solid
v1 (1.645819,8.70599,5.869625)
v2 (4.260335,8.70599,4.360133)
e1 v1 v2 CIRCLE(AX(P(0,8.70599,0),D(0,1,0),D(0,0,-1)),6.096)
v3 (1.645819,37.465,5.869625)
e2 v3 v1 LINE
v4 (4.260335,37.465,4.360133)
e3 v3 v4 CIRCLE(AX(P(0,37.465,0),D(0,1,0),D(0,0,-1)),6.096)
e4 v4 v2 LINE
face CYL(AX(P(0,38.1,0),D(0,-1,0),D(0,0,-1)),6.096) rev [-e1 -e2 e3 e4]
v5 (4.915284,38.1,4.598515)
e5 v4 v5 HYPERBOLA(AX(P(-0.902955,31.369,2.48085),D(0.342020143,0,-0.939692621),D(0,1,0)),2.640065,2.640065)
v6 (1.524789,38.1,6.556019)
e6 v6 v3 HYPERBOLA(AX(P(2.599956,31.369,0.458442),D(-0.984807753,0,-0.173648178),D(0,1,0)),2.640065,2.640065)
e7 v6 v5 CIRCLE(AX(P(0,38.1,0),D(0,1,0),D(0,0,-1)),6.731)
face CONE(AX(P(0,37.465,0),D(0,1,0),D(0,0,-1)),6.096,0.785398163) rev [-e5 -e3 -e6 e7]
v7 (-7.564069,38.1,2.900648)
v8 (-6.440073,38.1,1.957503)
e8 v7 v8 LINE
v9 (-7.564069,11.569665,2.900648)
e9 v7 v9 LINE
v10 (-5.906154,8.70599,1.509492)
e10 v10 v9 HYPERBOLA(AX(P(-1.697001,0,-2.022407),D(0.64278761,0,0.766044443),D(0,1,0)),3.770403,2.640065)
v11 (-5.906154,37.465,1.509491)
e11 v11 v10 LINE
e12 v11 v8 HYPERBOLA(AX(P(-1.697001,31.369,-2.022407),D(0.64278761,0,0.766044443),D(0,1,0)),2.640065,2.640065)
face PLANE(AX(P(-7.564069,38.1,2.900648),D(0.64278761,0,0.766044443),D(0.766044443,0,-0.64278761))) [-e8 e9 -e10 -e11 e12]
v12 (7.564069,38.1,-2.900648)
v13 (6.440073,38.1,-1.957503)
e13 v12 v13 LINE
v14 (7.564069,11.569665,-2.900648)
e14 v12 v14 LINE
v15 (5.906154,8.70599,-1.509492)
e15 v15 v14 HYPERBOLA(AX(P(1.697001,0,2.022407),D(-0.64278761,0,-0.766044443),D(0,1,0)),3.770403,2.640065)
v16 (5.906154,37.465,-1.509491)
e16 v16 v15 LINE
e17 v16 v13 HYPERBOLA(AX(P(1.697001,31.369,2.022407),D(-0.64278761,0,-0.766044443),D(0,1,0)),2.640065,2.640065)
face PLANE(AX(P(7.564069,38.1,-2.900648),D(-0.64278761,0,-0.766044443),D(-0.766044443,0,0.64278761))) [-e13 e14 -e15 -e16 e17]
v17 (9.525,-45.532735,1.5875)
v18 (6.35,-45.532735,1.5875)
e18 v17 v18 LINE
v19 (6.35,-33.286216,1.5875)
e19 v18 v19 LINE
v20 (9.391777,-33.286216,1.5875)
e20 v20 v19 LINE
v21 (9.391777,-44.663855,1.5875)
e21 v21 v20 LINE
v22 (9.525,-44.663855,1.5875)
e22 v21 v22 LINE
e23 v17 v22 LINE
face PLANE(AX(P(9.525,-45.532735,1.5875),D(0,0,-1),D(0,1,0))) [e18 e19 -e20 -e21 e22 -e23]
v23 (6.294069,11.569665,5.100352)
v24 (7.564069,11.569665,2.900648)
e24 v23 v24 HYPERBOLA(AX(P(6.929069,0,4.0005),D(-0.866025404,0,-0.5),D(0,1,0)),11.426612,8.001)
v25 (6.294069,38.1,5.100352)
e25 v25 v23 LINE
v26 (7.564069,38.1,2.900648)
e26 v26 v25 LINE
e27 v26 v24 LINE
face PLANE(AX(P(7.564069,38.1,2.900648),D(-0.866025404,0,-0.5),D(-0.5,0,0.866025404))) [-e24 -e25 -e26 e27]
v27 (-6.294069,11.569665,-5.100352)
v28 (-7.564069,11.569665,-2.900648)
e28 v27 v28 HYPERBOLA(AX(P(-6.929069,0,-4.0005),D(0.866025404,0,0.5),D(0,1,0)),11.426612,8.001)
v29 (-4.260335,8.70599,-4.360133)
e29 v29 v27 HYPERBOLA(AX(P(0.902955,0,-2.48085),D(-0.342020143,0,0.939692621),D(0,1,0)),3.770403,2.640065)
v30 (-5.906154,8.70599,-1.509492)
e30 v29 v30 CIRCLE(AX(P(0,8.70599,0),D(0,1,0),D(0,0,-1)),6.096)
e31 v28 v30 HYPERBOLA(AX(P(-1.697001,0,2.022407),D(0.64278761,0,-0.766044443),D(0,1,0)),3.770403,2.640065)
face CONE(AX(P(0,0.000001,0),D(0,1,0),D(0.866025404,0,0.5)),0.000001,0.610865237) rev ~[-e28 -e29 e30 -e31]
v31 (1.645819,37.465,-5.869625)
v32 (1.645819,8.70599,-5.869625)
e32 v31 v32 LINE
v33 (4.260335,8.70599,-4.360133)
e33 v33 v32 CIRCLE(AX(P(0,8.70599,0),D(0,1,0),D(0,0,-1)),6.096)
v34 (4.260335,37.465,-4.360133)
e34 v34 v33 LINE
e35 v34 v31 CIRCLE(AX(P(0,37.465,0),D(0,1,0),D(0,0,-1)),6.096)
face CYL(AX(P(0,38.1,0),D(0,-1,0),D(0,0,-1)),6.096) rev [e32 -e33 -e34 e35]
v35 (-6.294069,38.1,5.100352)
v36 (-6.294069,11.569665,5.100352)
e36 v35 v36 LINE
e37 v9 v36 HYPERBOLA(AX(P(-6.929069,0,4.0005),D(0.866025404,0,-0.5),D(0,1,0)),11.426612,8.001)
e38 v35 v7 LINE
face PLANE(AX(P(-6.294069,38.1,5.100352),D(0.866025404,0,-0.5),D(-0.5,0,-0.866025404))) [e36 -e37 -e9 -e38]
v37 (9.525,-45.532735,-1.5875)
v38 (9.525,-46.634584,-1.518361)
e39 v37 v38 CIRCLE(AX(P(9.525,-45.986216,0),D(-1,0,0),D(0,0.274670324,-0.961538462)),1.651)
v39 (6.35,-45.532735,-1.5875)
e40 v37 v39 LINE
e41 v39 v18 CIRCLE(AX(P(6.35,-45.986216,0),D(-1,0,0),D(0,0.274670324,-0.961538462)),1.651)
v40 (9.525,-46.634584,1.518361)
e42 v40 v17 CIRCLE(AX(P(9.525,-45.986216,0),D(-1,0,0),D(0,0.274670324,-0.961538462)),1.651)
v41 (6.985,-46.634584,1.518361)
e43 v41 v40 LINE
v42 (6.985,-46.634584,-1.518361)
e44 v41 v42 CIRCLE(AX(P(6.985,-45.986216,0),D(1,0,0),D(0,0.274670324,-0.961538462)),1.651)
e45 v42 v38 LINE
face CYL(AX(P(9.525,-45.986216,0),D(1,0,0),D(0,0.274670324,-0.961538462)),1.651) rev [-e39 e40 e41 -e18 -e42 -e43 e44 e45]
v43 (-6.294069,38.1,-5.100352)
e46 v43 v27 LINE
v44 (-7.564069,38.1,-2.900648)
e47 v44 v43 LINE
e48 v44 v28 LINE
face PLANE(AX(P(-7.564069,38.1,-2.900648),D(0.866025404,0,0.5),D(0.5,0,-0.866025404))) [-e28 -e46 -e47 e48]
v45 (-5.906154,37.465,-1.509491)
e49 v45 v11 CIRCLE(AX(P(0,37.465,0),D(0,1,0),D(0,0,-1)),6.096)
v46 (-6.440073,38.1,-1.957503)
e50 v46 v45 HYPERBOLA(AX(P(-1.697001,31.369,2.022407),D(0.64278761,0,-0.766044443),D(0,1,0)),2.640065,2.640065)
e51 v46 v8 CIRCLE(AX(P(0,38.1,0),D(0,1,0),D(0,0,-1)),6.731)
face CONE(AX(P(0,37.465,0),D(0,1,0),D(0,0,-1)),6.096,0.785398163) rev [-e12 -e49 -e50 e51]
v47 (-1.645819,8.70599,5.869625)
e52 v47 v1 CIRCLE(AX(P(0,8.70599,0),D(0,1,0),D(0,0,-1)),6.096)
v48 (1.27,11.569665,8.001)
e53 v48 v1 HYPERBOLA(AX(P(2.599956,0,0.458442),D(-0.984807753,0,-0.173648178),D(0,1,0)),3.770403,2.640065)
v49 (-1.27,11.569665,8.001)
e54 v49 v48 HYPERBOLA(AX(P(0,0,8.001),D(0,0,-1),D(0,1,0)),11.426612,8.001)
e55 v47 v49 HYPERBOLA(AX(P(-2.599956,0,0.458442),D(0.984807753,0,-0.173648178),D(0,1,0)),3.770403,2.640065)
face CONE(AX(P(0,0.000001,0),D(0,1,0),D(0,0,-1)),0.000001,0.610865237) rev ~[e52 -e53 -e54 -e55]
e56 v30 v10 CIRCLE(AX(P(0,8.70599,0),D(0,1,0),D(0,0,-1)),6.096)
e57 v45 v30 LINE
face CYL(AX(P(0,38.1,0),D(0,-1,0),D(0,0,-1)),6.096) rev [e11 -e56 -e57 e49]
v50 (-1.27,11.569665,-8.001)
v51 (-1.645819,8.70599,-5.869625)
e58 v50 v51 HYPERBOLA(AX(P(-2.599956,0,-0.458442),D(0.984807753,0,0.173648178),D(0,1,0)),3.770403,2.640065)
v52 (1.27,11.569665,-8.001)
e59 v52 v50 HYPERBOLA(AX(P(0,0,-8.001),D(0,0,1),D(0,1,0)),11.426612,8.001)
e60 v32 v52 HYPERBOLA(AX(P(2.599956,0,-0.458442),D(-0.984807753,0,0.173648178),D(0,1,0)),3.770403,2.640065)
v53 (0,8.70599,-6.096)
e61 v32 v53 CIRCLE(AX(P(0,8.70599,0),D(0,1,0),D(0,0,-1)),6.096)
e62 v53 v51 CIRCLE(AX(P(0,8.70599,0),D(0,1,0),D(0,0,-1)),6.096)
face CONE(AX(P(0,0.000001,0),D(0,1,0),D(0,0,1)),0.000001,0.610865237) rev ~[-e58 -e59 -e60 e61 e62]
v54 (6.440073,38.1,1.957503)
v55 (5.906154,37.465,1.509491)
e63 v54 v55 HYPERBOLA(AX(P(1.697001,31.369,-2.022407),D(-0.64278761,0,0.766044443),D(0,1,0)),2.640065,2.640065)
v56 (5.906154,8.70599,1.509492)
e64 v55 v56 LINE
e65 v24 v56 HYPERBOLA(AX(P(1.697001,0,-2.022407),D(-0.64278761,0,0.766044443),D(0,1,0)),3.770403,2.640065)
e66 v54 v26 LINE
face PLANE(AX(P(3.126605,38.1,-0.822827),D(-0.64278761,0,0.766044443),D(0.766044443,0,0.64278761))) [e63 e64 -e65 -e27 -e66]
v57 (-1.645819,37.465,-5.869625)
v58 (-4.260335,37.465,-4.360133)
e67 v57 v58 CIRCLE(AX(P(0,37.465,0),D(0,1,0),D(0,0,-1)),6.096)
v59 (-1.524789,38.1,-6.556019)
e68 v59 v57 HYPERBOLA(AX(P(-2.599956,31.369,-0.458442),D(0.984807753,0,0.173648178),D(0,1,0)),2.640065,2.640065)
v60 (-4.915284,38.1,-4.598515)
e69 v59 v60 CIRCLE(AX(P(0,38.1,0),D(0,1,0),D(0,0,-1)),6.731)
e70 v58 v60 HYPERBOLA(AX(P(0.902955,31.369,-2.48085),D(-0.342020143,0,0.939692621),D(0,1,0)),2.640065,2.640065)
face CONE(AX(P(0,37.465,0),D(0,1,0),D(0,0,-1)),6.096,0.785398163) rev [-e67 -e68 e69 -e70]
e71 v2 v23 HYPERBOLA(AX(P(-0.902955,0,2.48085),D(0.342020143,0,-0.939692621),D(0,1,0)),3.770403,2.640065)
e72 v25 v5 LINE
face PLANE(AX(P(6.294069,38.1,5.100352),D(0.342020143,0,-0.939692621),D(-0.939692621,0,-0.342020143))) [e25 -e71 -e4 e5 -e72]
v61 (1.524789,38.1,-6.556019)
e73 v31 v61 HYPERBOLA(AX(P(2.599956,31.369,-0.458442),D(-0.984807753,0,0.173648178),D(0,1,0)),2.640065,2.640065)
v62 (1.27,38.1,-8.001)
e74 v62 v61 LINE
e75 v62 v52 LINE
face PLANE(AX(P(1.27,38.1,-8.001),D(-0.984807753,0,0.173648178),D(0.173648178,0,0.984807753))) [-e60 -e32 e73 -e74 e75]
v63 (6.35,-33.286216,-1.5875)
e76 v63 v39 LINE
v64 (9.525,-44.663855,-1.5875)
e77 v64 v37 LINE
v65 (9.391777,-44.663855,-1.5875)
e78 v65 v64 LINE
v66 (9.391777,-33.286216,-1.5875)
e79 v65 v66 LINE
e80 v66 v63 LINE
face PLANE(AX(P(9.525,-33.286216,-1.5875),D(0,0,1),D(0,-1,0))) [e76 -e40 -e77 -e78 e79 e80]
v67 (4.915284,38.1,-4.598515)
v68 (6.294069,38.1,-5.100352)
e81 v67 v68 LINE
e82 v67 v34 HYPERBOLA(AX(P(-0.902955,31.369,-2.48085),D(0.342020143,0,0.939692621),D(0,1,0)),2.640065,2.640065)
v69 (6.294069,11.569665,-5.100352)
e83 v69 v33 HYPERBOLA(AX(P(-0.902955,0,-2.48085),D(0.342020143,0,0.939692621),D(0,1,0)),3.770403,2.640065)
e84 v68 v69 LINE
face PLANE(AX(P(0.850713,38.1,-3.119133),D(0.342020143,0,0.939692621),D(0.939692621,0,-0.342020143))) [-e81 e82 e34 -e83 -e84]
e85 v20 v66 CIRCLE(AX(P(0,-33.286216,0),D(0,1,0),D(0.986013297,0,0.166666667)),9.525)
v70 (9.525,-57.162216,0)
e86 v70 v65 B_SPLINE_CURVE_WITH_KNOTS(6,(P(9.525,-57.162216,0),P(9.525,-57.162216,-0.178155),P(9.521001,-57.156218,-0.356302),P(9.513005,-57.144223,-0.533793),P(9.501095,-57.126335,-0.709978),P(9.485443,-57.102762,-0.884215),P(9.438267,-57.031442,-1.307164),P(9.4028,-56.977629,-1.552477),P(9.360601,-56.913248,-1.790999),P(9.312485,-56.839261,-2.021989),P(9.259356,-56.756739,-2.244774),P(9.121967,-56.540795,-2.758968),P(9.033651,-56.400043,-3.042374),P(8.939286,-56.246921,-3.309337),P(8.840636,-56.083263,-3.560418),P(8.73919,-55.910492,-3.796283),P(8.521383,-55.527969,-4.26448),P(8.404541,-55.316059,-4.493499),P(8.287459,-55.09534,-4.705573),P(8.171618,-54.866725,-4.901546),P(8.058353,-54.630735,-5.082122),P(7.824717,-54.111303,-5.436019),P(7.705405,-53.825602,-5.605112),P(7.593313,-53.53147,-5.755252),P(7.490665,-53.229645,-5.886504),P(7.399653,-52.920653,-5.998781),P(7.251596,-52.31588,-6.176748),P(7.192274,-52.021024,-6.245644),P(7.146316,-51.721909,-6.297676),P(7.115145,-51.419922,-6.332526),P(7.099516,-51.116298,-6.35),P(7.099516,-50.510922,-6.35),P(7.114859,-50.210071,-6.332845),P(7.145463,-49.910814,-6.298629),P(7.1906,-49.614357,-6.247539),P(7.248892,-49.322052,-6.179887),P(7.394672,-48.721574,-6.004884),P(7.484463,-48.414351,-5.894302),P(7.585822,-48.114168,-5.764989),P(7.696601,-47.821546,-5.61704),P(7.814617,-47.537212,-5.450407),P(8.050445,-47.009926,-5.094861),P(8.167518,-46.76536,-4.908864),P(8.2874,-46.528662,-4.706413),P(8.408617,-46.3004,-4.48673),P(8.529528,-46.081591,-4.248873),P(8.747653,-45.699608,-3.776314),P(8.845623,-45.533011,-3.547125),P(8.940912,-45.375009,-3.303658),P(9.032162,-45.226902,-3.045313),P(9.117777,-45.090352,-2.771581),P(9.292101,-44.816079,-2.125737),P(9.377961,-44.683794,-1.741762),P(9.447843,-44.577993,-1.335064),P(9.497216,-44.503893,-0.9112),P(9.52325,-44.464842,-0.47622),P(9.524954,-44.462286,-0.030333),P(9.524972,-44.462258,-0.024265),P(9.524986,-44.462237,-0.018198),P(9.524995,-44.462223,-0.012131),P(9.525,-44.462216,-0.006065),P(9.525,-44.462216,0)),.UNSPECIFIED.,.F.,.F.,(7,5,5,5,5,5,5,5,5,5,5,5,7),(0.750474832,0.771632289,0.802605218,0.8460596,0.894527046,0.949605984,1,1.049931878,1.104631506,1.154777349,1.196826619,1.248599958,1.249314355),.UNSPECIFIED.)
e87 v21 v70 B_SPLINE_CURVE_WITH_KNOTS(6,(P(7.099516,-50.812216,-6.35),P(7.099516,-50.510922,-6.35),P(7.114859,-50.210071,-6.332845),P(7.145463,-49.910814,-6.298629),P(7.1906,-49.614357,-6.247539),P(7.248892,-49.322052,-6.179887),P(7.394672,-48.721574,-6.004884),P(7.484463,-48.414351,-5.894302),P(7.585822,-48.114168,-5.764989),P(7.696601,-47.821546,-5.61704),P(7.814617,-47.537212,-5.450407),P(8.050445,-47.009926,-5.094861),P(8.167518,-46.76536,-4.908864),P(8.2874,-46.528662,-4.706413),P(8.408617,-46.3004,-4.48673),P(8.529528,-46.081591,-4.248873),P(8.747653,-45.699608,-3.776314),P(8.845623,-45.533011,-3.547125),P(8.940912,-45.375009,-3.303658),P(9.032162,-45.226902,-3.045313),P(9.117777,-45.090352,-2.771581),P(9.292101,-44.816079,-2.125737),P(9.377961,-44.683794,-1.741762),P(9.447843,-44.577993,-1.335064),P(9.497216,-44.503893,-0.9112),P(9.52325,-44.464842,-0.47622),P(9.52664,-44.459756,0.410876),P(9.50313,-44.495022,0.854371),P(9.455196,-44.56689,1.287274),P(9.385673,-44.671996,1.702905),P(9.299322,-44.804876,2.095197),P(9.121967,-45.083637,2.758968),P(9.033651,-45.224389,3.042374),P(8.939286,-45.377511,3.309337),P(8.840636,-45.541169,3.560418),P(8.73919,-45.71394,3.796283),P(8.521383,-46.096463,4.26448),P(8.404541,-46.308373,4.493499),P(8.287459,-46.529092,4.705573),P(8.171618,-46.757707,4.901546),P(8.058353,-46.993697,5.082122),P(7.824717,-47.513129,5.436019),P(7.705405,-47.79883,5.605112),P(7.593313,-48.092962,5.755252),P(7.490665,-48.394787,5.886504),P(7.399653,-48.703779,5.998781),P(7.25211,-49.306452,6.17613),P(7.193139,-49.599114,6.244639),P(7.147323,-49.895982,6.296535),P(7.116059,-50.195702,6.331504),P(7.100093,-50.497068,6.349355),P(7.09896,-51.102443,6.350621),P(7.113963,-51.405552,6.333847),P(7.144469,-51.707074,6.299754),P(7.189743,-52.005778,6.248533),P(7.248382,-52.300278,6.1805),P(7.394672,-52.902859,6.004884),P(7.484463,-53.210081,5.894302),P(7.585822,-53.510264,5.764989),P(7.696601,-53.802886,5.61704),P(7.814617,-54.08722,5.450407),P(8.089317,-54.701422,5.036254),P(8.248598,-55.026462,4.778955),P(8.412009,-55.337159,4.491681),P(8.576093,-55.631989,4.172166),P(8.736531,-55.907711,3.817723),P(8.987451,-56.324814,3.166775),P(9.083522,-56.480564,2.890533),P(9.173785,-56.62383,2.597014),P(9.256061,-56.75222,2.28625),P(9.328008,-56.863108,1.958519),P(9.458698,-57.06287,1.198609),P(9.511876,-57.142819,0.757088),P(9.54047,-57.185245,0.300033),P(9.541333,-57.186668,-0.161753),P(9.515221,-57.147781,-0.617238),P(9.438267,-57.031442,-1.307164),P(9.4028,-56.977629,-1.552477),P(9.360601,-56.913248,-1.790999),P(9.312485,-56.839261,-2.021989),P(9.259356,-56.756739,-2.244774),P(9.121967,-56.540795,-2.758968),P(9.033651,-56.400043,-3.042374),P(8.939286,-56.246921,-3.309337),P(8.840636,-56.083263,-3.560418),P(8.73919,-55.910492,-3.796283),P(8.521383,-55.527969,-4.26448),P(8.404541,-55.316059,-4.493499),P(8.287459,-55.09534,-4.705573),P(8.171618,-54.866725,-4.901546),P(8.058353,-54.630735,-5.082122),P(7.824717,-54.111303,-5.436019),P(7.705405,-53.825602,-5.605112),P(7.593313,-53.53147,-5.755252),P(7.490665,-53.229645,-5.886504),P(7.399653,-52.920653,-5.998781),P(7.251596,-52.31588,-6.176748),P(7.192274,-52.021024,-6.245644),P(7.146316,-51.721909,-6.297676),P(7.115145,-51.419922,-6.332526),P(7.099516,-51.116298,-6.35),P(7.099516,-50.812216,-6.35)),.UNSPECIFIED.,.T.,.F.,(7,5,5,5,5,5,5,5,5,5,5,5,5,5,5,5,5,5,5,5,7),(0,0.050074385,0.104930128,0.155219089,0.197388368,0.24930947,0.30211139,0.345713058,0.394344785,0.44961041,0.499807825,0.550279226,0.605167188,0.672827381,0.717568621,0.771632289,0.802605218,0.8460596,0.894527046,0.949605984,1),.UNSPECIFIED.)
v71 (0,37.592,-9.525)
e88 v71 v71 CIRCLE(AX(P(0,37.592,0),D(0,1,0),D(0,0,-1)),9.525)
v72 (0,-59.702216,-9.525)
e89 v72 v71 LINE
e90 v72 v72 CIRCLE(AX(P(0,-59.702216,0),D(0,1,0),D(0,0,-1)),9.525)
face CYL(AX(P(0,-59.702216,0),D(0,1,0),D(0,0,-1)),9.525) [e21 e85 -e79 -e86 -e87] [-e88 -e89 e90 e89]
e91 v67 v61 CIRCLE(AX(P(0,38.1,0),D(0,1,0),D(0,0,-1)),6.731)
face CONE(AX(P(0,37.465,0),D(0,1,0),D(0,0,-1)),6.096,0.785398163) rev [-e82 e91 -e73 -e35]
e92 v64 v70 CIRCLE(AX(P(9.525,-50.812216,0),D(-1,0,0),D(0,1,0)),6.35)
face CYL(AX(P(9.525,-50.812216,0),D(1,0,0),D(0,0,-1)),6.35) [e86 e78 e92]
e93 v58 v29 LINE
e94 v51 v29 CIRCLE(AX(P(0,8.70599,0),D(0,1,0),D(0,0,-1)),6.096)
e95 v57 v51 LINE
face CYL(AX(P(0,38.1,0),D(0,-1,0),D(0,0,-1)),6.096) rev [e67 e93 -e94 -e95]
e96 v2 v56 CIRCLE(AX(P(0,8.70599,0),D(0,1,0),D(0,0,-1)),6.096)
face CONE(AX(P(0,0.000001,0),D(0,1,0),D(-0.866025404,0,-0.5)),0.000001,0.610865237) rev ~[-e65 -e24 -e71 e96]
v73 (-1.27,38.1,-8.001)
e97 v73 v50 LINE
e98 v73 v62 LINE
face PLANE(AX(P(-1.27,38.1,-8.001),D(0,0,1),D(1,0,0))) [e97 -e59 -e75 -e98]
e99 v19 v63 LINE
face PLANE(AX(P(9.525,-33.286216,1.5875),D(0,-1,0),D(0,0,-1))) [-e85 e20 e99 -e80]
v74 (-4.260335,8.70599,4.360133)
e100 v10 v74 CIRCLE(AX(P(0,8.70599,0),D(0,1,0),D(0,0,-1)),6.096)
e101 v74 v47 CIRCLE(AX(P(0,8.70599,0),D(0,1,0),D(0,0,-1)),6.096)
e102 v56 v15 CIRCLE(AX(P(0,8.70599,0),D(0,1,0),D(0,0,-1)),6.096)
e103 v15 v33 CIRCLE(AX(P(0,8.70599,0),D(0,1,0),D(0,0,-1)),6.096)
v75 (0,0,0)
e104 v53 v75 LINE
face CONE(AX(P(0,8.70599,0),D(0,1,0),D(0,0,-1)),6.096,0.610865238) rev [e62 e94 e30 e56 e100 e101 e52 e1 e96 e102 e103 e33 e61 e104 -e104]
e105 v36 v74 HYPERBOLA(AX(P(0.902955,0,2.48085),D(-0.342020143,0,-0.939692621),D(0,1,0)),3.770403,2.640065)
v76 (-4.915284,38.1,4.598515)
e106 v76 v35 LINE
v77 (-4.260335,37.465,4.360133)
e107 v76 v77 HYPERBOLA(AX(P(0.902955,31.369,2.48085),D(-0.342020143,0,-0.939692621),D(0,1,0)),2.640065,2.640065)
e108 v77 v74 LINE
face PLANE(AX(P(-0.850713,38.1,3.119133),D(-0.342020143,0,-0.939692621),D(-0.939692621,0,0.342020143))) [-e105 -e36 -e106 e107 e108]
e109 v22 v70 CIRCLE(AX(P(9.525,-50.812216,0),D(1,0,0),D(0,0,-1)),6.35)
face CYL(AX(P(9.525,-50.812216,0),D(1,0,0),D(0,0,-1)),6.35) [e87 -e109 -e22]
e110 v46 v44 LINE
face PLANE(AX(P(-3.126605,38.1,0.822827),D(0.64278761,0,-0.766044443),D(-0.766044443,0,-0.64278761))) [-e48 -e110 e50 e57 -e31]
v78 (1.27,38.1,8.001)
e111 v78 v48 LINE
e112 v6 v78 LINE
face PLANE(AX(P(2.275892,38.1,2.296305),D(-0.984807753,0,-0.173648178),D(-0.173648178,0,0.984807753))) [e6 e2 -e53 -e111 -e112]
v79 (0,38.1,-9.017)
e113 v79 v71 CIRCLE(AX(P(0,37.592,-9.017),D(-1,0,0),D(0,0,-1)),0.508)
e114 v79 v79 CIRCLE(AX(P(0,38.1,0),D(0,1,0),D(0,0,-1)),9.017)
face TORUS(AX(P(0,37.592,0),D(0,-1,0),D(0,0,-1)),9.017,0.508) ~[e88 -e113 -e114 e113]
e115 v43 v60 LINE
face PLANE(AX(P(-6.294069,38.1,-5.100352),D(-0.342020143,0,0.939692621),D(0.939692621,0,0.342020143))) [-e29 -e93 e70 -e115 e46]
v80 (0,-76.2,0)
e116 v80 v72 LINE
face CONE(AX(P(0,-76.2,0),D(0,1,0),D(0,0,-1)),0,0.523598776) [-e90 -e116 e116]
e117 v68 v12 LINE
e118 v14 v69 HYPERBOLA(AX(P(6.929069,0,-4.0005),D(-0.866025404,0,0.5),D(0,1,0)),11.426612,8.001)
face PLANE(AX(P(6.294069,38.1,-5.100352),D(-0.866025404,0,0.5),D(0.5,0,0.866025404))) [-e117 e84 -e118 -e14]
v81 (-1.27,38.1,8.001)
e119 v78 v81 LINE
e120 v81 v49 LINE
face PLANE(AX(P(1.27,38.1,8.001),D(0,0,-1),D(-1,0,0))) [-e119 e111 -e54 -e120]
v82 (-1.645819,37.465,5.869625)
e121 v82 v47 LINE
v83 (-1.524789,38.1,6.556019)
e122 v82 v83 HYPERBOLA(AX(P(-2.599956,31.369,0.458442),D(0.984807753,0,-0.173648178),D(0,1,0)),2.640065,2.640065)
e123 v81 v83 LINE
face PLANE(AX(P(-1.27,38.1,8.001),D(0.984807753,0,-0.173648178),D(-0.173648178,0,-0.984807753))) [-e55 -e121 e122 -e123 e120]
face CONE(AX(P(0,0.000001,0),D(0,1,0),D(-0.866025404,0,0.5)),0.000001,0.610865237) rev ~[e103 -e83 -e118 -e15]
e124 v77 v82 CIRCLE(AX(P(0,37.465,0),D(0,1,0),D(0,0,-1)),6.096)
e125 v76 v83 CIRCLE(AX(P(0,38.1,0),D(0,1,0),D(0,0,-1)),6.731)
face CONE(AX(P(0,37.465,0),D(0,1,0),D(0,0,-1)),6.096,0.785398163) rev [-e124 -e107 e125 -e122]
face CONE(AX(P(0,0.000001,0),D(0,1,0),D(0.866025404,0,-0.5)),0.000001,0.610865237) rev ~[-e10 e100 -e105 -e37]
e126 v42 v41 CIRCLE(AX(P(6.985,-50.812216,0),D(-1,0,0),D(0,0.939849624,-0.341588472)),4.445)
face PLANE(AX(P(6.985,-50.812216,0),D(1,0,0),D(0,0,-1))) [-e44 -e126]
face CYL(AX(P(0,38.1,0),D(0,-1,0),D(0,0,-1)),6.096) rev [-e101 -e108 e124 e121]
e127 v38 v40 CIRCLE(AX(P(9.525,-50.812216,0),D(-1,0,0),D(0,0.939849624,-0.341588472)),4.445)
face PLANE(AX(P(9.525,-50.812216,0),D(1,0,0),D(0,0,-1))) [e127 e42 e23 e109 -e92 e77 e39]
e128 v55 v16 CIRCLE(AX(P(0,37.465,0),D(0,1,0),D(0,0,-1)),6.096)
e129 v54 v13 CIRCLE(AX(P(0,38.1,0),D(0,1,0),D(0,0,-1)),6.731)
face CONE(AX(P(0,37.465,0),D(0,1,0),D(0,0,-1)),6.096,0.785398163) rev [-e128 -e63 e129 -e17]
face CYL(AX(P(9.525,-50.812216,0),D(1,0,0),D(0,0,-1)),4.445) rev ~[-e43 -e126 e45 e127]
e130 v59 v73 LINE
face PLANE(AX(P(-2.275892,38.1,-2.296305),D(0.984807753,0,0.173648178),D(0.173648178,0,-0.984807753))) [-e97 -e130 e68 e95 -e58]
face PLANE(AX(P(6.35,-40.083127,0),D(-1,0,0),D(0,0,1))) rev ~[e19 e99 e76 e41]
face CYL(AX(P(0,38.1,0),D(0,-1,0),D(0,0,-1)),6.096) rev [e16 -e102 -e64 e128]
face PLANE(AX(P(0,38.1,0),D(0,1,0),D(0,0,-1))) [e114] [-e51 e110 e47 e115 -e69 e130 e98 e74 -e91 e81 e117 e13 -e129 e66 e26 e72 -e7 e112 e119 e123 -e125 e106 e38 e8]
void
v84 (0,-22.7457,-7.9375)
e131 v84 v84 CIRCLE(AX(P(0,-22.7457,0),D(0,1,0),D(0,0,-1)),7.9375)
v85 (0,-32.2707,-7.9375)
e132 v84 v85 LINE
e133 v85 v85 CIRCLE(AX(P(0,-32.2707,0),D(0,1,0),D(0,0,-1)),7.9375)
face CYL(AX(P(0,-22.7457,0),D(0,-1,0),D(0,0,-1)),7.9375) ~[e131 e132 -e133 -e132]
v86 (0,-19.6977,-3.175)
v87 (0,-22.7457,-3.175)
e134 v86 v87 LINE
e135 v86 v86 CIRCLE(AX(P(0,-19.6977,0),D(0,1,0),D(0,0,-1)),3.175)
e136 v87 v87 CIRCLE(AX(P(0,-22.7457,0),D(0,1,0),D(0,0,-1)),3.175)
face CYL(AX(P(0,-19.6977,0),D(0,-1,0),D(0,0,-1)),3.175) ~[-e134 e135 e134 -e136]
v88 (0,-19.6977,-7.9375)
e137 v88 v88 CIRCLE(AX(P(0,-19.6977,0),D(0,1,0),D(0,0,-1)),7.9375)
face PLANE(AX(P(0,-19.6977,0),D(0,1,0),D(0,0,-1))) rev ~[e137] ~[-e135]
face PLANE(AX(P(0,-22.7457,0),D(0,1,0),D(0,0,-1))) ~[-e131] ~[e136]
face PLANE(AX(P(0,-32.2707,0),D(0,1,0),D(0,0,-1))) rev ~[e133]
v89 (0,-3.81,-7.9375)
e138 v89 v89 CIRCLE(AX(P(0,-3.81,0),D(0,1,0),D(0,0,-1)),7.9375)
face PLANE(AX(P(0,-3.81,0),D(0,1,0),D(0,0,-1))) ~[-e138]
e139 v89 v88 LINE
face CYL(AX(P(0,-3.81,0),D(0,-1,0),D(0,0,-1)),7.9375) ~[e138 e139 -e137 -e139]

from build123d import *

# Parameters (mm, degrees)
BOSS_EXTRUDE1_REACH = 81.121
SENSOR_R            = 6.35
CHAMFER1_SIZE       = 0.635
FILLET3_R           = 0.508
SKETCH4_R           = 4.445
CUT_EXTRUDE1_DEPTH  = 2.54
CUT_EXTRUDE2_DEPTH  = 3.175
CUT_EXTRUDE8_REACH  = 117.091
CIRPATTERN1_COUNT   = 6


with BuildPart() as part:
    # Sketch1 → mainBody (revolve)
    with BuildSketch(Plane(origin=(0, 0, 0), x_dir=(0, 0, -1), z_dir=(1, 0, 0)), mode=Mode.PRIVATE) as mainbody_sk:
        Polygon((-6.096, 38.1), (-6.096, 8.705990249), (0, 0), (0, -76.2), (-9.525, -59.702216058), (-9.525, 38.1), align=None)
    revolve(mainbody_sk.sketch.rotate(Axis((0, 0, 0), (0, 1, 0)), 180), axis=Axis((0, 0, 0), (0, 1, 0)))

    # sensor → Boss-Extrude1 (add, up to next)
    with BuildSketch(Plane(origin=(9.525, 0, 0), x_dir=(0, 0, -1), z_dir=(1, 0, 0)), mode=Mode.PRIVATE) as boss_extrude1_sk1:
        with Locations((0, -50.812216058)):
            Circle(SENSOR_R)
    boss_extrude1_tool1 = extrude(boss_extrude1_sk1.sketch, amount=-BOSS_EXTRUDE1_REACH, mode=Mode.PRIVATE) - part.part
    add(boss_extrude1_tool1.solids().sort_by_distance((9.525, -50.812216, 0))[0])
    add(boss_extrude1_tool1.solids().sort_by_distance((9.525, -50.812216, 0))[1])

    # Chamfer1
    chamfer1_edges = [part.edges().sort_by_distance(p)[0] for p in [
        (0, 38.1, 6.096),
    ]]
    chamfer(chamfer1_edges, length=CHAMFER1_SIZE)

    # Fillet3
    fillet3_edges = [part.edges().sort_by_distance(p)[0] for p in [
        (0, 38.1, 9.525),
    ]]
    fillet(fillet3_edges, radius=FILLET3_R)

    # Sketch4 → Cut-Extrude1 (cut)
    with BuildSketch(Plane(origin=(9.525, 0, 0), x_dir=(0, 0, -1), z_dir=(1, 0, 0))):
        with Locations((0, -50.812216058)):
            Circle(SKETCH4_R)
    extrude(amount=-CUT_EXTRUDE1_DEPTH, mode=Mode.SUBTRACT)

    # Sketch5 → Cut-Extrude2 (cut)
    with BuildSketch(Plane(origin=(9.525, 0, 0), x_dir=(0, 0, -1), z_dir=(1, 0, 0))):
        with BuildLine():
            Line((-1.5875, -33.286216058), (1.5875, -33.286216058))
            Line((1.5875, -33.286216058), (1.5875, -45.532735353))
            ThreePointArc((1.5875, -45.532735353), (0, -47.637216058), (-1.5875, -45.532735353))
            Line((-1.5875, -45.532735353), (-1.5875, -33.286216058))
        make_face()
    extrude(amount=-CUT_EXTRUDE2_DEPTH, mode=Mode.SUBTRACT)

    # Cut-Extrude8: up to this cone (the profile starts inside it)
    cut_extrude8_end = Plane(origin=(0, 38.1, 0), z_dir=(0, 1, 0)).offset(-38.099999) * Cone(1e-06, 127.696083561, 182.368906206, align=(Align.CENTER, Align.CENTER, Align.MIN), mode=Mode.PRIVATE)
    # Sketch13 → Cut-Extrude8 (cut, up to the surface)
    with BuildSketch(Plane(origin=(0, 38.1, 0), x_dir=(1, 0, 0), z_dir=(0, 1, 0)), mode=Mode.PRIVATE) as cut_extrude8_sk1:
        Polygon((-1.27, 8.001), (1.27, 8.001), (2.27589157, 2.296305428), (-2.27589157, 2.296305428), align=None)
    cut_extrude8_tool1 = extrude(cut_extrude8_sk1.sketch, amount=-CUT_EXTRUDE8_REACH, mode=Mode.PRIVATE) & cut_extrude8_end
    cut_extrude8 = cut_extrude8_tool1.solids().sort_by_distance((0, 38.1, -4.878937))[0]
    add(cut_extrude8, mode=Mode.SUBTRACT)

    # CirPattern1: Cut-Extrude8 ×6 about axis
    cirpattern1_axis = Axis((0, 0, 0), (0, 1, 0))
    for i in range(1, CIRPATTERN1_COUNT):
        add(cut_extrude8.rotate(cirpattern1_axis, i * 360 / CIRPATTERN1_COUNT), mode=Mode.SUBTRACT)

    # Sketch14 → Cut-Revolve4 (revolve, cut)
    with BuildSketch(Plane.XY, mode=Mode.PRIVATE) as cut_revolve4_sk:
        Polygon((0, -3.81), (7.9375, -3.81), (7.9375, -19.6977), (3.175, -19.6977), (3.175, -22.7457), (7.9375, -22.7457), (7.9375, -32.2707), (0, -32.2707), align=None)
    revolve(cut_revolve4_sk.sketch.rotate(Axis((0, 0, 0), (0, 1, 0)), 90), axis=Axis((0, 0, 0), (0, 1, 0)), mode=Mode.SUBTRACT)


solid = part.part
